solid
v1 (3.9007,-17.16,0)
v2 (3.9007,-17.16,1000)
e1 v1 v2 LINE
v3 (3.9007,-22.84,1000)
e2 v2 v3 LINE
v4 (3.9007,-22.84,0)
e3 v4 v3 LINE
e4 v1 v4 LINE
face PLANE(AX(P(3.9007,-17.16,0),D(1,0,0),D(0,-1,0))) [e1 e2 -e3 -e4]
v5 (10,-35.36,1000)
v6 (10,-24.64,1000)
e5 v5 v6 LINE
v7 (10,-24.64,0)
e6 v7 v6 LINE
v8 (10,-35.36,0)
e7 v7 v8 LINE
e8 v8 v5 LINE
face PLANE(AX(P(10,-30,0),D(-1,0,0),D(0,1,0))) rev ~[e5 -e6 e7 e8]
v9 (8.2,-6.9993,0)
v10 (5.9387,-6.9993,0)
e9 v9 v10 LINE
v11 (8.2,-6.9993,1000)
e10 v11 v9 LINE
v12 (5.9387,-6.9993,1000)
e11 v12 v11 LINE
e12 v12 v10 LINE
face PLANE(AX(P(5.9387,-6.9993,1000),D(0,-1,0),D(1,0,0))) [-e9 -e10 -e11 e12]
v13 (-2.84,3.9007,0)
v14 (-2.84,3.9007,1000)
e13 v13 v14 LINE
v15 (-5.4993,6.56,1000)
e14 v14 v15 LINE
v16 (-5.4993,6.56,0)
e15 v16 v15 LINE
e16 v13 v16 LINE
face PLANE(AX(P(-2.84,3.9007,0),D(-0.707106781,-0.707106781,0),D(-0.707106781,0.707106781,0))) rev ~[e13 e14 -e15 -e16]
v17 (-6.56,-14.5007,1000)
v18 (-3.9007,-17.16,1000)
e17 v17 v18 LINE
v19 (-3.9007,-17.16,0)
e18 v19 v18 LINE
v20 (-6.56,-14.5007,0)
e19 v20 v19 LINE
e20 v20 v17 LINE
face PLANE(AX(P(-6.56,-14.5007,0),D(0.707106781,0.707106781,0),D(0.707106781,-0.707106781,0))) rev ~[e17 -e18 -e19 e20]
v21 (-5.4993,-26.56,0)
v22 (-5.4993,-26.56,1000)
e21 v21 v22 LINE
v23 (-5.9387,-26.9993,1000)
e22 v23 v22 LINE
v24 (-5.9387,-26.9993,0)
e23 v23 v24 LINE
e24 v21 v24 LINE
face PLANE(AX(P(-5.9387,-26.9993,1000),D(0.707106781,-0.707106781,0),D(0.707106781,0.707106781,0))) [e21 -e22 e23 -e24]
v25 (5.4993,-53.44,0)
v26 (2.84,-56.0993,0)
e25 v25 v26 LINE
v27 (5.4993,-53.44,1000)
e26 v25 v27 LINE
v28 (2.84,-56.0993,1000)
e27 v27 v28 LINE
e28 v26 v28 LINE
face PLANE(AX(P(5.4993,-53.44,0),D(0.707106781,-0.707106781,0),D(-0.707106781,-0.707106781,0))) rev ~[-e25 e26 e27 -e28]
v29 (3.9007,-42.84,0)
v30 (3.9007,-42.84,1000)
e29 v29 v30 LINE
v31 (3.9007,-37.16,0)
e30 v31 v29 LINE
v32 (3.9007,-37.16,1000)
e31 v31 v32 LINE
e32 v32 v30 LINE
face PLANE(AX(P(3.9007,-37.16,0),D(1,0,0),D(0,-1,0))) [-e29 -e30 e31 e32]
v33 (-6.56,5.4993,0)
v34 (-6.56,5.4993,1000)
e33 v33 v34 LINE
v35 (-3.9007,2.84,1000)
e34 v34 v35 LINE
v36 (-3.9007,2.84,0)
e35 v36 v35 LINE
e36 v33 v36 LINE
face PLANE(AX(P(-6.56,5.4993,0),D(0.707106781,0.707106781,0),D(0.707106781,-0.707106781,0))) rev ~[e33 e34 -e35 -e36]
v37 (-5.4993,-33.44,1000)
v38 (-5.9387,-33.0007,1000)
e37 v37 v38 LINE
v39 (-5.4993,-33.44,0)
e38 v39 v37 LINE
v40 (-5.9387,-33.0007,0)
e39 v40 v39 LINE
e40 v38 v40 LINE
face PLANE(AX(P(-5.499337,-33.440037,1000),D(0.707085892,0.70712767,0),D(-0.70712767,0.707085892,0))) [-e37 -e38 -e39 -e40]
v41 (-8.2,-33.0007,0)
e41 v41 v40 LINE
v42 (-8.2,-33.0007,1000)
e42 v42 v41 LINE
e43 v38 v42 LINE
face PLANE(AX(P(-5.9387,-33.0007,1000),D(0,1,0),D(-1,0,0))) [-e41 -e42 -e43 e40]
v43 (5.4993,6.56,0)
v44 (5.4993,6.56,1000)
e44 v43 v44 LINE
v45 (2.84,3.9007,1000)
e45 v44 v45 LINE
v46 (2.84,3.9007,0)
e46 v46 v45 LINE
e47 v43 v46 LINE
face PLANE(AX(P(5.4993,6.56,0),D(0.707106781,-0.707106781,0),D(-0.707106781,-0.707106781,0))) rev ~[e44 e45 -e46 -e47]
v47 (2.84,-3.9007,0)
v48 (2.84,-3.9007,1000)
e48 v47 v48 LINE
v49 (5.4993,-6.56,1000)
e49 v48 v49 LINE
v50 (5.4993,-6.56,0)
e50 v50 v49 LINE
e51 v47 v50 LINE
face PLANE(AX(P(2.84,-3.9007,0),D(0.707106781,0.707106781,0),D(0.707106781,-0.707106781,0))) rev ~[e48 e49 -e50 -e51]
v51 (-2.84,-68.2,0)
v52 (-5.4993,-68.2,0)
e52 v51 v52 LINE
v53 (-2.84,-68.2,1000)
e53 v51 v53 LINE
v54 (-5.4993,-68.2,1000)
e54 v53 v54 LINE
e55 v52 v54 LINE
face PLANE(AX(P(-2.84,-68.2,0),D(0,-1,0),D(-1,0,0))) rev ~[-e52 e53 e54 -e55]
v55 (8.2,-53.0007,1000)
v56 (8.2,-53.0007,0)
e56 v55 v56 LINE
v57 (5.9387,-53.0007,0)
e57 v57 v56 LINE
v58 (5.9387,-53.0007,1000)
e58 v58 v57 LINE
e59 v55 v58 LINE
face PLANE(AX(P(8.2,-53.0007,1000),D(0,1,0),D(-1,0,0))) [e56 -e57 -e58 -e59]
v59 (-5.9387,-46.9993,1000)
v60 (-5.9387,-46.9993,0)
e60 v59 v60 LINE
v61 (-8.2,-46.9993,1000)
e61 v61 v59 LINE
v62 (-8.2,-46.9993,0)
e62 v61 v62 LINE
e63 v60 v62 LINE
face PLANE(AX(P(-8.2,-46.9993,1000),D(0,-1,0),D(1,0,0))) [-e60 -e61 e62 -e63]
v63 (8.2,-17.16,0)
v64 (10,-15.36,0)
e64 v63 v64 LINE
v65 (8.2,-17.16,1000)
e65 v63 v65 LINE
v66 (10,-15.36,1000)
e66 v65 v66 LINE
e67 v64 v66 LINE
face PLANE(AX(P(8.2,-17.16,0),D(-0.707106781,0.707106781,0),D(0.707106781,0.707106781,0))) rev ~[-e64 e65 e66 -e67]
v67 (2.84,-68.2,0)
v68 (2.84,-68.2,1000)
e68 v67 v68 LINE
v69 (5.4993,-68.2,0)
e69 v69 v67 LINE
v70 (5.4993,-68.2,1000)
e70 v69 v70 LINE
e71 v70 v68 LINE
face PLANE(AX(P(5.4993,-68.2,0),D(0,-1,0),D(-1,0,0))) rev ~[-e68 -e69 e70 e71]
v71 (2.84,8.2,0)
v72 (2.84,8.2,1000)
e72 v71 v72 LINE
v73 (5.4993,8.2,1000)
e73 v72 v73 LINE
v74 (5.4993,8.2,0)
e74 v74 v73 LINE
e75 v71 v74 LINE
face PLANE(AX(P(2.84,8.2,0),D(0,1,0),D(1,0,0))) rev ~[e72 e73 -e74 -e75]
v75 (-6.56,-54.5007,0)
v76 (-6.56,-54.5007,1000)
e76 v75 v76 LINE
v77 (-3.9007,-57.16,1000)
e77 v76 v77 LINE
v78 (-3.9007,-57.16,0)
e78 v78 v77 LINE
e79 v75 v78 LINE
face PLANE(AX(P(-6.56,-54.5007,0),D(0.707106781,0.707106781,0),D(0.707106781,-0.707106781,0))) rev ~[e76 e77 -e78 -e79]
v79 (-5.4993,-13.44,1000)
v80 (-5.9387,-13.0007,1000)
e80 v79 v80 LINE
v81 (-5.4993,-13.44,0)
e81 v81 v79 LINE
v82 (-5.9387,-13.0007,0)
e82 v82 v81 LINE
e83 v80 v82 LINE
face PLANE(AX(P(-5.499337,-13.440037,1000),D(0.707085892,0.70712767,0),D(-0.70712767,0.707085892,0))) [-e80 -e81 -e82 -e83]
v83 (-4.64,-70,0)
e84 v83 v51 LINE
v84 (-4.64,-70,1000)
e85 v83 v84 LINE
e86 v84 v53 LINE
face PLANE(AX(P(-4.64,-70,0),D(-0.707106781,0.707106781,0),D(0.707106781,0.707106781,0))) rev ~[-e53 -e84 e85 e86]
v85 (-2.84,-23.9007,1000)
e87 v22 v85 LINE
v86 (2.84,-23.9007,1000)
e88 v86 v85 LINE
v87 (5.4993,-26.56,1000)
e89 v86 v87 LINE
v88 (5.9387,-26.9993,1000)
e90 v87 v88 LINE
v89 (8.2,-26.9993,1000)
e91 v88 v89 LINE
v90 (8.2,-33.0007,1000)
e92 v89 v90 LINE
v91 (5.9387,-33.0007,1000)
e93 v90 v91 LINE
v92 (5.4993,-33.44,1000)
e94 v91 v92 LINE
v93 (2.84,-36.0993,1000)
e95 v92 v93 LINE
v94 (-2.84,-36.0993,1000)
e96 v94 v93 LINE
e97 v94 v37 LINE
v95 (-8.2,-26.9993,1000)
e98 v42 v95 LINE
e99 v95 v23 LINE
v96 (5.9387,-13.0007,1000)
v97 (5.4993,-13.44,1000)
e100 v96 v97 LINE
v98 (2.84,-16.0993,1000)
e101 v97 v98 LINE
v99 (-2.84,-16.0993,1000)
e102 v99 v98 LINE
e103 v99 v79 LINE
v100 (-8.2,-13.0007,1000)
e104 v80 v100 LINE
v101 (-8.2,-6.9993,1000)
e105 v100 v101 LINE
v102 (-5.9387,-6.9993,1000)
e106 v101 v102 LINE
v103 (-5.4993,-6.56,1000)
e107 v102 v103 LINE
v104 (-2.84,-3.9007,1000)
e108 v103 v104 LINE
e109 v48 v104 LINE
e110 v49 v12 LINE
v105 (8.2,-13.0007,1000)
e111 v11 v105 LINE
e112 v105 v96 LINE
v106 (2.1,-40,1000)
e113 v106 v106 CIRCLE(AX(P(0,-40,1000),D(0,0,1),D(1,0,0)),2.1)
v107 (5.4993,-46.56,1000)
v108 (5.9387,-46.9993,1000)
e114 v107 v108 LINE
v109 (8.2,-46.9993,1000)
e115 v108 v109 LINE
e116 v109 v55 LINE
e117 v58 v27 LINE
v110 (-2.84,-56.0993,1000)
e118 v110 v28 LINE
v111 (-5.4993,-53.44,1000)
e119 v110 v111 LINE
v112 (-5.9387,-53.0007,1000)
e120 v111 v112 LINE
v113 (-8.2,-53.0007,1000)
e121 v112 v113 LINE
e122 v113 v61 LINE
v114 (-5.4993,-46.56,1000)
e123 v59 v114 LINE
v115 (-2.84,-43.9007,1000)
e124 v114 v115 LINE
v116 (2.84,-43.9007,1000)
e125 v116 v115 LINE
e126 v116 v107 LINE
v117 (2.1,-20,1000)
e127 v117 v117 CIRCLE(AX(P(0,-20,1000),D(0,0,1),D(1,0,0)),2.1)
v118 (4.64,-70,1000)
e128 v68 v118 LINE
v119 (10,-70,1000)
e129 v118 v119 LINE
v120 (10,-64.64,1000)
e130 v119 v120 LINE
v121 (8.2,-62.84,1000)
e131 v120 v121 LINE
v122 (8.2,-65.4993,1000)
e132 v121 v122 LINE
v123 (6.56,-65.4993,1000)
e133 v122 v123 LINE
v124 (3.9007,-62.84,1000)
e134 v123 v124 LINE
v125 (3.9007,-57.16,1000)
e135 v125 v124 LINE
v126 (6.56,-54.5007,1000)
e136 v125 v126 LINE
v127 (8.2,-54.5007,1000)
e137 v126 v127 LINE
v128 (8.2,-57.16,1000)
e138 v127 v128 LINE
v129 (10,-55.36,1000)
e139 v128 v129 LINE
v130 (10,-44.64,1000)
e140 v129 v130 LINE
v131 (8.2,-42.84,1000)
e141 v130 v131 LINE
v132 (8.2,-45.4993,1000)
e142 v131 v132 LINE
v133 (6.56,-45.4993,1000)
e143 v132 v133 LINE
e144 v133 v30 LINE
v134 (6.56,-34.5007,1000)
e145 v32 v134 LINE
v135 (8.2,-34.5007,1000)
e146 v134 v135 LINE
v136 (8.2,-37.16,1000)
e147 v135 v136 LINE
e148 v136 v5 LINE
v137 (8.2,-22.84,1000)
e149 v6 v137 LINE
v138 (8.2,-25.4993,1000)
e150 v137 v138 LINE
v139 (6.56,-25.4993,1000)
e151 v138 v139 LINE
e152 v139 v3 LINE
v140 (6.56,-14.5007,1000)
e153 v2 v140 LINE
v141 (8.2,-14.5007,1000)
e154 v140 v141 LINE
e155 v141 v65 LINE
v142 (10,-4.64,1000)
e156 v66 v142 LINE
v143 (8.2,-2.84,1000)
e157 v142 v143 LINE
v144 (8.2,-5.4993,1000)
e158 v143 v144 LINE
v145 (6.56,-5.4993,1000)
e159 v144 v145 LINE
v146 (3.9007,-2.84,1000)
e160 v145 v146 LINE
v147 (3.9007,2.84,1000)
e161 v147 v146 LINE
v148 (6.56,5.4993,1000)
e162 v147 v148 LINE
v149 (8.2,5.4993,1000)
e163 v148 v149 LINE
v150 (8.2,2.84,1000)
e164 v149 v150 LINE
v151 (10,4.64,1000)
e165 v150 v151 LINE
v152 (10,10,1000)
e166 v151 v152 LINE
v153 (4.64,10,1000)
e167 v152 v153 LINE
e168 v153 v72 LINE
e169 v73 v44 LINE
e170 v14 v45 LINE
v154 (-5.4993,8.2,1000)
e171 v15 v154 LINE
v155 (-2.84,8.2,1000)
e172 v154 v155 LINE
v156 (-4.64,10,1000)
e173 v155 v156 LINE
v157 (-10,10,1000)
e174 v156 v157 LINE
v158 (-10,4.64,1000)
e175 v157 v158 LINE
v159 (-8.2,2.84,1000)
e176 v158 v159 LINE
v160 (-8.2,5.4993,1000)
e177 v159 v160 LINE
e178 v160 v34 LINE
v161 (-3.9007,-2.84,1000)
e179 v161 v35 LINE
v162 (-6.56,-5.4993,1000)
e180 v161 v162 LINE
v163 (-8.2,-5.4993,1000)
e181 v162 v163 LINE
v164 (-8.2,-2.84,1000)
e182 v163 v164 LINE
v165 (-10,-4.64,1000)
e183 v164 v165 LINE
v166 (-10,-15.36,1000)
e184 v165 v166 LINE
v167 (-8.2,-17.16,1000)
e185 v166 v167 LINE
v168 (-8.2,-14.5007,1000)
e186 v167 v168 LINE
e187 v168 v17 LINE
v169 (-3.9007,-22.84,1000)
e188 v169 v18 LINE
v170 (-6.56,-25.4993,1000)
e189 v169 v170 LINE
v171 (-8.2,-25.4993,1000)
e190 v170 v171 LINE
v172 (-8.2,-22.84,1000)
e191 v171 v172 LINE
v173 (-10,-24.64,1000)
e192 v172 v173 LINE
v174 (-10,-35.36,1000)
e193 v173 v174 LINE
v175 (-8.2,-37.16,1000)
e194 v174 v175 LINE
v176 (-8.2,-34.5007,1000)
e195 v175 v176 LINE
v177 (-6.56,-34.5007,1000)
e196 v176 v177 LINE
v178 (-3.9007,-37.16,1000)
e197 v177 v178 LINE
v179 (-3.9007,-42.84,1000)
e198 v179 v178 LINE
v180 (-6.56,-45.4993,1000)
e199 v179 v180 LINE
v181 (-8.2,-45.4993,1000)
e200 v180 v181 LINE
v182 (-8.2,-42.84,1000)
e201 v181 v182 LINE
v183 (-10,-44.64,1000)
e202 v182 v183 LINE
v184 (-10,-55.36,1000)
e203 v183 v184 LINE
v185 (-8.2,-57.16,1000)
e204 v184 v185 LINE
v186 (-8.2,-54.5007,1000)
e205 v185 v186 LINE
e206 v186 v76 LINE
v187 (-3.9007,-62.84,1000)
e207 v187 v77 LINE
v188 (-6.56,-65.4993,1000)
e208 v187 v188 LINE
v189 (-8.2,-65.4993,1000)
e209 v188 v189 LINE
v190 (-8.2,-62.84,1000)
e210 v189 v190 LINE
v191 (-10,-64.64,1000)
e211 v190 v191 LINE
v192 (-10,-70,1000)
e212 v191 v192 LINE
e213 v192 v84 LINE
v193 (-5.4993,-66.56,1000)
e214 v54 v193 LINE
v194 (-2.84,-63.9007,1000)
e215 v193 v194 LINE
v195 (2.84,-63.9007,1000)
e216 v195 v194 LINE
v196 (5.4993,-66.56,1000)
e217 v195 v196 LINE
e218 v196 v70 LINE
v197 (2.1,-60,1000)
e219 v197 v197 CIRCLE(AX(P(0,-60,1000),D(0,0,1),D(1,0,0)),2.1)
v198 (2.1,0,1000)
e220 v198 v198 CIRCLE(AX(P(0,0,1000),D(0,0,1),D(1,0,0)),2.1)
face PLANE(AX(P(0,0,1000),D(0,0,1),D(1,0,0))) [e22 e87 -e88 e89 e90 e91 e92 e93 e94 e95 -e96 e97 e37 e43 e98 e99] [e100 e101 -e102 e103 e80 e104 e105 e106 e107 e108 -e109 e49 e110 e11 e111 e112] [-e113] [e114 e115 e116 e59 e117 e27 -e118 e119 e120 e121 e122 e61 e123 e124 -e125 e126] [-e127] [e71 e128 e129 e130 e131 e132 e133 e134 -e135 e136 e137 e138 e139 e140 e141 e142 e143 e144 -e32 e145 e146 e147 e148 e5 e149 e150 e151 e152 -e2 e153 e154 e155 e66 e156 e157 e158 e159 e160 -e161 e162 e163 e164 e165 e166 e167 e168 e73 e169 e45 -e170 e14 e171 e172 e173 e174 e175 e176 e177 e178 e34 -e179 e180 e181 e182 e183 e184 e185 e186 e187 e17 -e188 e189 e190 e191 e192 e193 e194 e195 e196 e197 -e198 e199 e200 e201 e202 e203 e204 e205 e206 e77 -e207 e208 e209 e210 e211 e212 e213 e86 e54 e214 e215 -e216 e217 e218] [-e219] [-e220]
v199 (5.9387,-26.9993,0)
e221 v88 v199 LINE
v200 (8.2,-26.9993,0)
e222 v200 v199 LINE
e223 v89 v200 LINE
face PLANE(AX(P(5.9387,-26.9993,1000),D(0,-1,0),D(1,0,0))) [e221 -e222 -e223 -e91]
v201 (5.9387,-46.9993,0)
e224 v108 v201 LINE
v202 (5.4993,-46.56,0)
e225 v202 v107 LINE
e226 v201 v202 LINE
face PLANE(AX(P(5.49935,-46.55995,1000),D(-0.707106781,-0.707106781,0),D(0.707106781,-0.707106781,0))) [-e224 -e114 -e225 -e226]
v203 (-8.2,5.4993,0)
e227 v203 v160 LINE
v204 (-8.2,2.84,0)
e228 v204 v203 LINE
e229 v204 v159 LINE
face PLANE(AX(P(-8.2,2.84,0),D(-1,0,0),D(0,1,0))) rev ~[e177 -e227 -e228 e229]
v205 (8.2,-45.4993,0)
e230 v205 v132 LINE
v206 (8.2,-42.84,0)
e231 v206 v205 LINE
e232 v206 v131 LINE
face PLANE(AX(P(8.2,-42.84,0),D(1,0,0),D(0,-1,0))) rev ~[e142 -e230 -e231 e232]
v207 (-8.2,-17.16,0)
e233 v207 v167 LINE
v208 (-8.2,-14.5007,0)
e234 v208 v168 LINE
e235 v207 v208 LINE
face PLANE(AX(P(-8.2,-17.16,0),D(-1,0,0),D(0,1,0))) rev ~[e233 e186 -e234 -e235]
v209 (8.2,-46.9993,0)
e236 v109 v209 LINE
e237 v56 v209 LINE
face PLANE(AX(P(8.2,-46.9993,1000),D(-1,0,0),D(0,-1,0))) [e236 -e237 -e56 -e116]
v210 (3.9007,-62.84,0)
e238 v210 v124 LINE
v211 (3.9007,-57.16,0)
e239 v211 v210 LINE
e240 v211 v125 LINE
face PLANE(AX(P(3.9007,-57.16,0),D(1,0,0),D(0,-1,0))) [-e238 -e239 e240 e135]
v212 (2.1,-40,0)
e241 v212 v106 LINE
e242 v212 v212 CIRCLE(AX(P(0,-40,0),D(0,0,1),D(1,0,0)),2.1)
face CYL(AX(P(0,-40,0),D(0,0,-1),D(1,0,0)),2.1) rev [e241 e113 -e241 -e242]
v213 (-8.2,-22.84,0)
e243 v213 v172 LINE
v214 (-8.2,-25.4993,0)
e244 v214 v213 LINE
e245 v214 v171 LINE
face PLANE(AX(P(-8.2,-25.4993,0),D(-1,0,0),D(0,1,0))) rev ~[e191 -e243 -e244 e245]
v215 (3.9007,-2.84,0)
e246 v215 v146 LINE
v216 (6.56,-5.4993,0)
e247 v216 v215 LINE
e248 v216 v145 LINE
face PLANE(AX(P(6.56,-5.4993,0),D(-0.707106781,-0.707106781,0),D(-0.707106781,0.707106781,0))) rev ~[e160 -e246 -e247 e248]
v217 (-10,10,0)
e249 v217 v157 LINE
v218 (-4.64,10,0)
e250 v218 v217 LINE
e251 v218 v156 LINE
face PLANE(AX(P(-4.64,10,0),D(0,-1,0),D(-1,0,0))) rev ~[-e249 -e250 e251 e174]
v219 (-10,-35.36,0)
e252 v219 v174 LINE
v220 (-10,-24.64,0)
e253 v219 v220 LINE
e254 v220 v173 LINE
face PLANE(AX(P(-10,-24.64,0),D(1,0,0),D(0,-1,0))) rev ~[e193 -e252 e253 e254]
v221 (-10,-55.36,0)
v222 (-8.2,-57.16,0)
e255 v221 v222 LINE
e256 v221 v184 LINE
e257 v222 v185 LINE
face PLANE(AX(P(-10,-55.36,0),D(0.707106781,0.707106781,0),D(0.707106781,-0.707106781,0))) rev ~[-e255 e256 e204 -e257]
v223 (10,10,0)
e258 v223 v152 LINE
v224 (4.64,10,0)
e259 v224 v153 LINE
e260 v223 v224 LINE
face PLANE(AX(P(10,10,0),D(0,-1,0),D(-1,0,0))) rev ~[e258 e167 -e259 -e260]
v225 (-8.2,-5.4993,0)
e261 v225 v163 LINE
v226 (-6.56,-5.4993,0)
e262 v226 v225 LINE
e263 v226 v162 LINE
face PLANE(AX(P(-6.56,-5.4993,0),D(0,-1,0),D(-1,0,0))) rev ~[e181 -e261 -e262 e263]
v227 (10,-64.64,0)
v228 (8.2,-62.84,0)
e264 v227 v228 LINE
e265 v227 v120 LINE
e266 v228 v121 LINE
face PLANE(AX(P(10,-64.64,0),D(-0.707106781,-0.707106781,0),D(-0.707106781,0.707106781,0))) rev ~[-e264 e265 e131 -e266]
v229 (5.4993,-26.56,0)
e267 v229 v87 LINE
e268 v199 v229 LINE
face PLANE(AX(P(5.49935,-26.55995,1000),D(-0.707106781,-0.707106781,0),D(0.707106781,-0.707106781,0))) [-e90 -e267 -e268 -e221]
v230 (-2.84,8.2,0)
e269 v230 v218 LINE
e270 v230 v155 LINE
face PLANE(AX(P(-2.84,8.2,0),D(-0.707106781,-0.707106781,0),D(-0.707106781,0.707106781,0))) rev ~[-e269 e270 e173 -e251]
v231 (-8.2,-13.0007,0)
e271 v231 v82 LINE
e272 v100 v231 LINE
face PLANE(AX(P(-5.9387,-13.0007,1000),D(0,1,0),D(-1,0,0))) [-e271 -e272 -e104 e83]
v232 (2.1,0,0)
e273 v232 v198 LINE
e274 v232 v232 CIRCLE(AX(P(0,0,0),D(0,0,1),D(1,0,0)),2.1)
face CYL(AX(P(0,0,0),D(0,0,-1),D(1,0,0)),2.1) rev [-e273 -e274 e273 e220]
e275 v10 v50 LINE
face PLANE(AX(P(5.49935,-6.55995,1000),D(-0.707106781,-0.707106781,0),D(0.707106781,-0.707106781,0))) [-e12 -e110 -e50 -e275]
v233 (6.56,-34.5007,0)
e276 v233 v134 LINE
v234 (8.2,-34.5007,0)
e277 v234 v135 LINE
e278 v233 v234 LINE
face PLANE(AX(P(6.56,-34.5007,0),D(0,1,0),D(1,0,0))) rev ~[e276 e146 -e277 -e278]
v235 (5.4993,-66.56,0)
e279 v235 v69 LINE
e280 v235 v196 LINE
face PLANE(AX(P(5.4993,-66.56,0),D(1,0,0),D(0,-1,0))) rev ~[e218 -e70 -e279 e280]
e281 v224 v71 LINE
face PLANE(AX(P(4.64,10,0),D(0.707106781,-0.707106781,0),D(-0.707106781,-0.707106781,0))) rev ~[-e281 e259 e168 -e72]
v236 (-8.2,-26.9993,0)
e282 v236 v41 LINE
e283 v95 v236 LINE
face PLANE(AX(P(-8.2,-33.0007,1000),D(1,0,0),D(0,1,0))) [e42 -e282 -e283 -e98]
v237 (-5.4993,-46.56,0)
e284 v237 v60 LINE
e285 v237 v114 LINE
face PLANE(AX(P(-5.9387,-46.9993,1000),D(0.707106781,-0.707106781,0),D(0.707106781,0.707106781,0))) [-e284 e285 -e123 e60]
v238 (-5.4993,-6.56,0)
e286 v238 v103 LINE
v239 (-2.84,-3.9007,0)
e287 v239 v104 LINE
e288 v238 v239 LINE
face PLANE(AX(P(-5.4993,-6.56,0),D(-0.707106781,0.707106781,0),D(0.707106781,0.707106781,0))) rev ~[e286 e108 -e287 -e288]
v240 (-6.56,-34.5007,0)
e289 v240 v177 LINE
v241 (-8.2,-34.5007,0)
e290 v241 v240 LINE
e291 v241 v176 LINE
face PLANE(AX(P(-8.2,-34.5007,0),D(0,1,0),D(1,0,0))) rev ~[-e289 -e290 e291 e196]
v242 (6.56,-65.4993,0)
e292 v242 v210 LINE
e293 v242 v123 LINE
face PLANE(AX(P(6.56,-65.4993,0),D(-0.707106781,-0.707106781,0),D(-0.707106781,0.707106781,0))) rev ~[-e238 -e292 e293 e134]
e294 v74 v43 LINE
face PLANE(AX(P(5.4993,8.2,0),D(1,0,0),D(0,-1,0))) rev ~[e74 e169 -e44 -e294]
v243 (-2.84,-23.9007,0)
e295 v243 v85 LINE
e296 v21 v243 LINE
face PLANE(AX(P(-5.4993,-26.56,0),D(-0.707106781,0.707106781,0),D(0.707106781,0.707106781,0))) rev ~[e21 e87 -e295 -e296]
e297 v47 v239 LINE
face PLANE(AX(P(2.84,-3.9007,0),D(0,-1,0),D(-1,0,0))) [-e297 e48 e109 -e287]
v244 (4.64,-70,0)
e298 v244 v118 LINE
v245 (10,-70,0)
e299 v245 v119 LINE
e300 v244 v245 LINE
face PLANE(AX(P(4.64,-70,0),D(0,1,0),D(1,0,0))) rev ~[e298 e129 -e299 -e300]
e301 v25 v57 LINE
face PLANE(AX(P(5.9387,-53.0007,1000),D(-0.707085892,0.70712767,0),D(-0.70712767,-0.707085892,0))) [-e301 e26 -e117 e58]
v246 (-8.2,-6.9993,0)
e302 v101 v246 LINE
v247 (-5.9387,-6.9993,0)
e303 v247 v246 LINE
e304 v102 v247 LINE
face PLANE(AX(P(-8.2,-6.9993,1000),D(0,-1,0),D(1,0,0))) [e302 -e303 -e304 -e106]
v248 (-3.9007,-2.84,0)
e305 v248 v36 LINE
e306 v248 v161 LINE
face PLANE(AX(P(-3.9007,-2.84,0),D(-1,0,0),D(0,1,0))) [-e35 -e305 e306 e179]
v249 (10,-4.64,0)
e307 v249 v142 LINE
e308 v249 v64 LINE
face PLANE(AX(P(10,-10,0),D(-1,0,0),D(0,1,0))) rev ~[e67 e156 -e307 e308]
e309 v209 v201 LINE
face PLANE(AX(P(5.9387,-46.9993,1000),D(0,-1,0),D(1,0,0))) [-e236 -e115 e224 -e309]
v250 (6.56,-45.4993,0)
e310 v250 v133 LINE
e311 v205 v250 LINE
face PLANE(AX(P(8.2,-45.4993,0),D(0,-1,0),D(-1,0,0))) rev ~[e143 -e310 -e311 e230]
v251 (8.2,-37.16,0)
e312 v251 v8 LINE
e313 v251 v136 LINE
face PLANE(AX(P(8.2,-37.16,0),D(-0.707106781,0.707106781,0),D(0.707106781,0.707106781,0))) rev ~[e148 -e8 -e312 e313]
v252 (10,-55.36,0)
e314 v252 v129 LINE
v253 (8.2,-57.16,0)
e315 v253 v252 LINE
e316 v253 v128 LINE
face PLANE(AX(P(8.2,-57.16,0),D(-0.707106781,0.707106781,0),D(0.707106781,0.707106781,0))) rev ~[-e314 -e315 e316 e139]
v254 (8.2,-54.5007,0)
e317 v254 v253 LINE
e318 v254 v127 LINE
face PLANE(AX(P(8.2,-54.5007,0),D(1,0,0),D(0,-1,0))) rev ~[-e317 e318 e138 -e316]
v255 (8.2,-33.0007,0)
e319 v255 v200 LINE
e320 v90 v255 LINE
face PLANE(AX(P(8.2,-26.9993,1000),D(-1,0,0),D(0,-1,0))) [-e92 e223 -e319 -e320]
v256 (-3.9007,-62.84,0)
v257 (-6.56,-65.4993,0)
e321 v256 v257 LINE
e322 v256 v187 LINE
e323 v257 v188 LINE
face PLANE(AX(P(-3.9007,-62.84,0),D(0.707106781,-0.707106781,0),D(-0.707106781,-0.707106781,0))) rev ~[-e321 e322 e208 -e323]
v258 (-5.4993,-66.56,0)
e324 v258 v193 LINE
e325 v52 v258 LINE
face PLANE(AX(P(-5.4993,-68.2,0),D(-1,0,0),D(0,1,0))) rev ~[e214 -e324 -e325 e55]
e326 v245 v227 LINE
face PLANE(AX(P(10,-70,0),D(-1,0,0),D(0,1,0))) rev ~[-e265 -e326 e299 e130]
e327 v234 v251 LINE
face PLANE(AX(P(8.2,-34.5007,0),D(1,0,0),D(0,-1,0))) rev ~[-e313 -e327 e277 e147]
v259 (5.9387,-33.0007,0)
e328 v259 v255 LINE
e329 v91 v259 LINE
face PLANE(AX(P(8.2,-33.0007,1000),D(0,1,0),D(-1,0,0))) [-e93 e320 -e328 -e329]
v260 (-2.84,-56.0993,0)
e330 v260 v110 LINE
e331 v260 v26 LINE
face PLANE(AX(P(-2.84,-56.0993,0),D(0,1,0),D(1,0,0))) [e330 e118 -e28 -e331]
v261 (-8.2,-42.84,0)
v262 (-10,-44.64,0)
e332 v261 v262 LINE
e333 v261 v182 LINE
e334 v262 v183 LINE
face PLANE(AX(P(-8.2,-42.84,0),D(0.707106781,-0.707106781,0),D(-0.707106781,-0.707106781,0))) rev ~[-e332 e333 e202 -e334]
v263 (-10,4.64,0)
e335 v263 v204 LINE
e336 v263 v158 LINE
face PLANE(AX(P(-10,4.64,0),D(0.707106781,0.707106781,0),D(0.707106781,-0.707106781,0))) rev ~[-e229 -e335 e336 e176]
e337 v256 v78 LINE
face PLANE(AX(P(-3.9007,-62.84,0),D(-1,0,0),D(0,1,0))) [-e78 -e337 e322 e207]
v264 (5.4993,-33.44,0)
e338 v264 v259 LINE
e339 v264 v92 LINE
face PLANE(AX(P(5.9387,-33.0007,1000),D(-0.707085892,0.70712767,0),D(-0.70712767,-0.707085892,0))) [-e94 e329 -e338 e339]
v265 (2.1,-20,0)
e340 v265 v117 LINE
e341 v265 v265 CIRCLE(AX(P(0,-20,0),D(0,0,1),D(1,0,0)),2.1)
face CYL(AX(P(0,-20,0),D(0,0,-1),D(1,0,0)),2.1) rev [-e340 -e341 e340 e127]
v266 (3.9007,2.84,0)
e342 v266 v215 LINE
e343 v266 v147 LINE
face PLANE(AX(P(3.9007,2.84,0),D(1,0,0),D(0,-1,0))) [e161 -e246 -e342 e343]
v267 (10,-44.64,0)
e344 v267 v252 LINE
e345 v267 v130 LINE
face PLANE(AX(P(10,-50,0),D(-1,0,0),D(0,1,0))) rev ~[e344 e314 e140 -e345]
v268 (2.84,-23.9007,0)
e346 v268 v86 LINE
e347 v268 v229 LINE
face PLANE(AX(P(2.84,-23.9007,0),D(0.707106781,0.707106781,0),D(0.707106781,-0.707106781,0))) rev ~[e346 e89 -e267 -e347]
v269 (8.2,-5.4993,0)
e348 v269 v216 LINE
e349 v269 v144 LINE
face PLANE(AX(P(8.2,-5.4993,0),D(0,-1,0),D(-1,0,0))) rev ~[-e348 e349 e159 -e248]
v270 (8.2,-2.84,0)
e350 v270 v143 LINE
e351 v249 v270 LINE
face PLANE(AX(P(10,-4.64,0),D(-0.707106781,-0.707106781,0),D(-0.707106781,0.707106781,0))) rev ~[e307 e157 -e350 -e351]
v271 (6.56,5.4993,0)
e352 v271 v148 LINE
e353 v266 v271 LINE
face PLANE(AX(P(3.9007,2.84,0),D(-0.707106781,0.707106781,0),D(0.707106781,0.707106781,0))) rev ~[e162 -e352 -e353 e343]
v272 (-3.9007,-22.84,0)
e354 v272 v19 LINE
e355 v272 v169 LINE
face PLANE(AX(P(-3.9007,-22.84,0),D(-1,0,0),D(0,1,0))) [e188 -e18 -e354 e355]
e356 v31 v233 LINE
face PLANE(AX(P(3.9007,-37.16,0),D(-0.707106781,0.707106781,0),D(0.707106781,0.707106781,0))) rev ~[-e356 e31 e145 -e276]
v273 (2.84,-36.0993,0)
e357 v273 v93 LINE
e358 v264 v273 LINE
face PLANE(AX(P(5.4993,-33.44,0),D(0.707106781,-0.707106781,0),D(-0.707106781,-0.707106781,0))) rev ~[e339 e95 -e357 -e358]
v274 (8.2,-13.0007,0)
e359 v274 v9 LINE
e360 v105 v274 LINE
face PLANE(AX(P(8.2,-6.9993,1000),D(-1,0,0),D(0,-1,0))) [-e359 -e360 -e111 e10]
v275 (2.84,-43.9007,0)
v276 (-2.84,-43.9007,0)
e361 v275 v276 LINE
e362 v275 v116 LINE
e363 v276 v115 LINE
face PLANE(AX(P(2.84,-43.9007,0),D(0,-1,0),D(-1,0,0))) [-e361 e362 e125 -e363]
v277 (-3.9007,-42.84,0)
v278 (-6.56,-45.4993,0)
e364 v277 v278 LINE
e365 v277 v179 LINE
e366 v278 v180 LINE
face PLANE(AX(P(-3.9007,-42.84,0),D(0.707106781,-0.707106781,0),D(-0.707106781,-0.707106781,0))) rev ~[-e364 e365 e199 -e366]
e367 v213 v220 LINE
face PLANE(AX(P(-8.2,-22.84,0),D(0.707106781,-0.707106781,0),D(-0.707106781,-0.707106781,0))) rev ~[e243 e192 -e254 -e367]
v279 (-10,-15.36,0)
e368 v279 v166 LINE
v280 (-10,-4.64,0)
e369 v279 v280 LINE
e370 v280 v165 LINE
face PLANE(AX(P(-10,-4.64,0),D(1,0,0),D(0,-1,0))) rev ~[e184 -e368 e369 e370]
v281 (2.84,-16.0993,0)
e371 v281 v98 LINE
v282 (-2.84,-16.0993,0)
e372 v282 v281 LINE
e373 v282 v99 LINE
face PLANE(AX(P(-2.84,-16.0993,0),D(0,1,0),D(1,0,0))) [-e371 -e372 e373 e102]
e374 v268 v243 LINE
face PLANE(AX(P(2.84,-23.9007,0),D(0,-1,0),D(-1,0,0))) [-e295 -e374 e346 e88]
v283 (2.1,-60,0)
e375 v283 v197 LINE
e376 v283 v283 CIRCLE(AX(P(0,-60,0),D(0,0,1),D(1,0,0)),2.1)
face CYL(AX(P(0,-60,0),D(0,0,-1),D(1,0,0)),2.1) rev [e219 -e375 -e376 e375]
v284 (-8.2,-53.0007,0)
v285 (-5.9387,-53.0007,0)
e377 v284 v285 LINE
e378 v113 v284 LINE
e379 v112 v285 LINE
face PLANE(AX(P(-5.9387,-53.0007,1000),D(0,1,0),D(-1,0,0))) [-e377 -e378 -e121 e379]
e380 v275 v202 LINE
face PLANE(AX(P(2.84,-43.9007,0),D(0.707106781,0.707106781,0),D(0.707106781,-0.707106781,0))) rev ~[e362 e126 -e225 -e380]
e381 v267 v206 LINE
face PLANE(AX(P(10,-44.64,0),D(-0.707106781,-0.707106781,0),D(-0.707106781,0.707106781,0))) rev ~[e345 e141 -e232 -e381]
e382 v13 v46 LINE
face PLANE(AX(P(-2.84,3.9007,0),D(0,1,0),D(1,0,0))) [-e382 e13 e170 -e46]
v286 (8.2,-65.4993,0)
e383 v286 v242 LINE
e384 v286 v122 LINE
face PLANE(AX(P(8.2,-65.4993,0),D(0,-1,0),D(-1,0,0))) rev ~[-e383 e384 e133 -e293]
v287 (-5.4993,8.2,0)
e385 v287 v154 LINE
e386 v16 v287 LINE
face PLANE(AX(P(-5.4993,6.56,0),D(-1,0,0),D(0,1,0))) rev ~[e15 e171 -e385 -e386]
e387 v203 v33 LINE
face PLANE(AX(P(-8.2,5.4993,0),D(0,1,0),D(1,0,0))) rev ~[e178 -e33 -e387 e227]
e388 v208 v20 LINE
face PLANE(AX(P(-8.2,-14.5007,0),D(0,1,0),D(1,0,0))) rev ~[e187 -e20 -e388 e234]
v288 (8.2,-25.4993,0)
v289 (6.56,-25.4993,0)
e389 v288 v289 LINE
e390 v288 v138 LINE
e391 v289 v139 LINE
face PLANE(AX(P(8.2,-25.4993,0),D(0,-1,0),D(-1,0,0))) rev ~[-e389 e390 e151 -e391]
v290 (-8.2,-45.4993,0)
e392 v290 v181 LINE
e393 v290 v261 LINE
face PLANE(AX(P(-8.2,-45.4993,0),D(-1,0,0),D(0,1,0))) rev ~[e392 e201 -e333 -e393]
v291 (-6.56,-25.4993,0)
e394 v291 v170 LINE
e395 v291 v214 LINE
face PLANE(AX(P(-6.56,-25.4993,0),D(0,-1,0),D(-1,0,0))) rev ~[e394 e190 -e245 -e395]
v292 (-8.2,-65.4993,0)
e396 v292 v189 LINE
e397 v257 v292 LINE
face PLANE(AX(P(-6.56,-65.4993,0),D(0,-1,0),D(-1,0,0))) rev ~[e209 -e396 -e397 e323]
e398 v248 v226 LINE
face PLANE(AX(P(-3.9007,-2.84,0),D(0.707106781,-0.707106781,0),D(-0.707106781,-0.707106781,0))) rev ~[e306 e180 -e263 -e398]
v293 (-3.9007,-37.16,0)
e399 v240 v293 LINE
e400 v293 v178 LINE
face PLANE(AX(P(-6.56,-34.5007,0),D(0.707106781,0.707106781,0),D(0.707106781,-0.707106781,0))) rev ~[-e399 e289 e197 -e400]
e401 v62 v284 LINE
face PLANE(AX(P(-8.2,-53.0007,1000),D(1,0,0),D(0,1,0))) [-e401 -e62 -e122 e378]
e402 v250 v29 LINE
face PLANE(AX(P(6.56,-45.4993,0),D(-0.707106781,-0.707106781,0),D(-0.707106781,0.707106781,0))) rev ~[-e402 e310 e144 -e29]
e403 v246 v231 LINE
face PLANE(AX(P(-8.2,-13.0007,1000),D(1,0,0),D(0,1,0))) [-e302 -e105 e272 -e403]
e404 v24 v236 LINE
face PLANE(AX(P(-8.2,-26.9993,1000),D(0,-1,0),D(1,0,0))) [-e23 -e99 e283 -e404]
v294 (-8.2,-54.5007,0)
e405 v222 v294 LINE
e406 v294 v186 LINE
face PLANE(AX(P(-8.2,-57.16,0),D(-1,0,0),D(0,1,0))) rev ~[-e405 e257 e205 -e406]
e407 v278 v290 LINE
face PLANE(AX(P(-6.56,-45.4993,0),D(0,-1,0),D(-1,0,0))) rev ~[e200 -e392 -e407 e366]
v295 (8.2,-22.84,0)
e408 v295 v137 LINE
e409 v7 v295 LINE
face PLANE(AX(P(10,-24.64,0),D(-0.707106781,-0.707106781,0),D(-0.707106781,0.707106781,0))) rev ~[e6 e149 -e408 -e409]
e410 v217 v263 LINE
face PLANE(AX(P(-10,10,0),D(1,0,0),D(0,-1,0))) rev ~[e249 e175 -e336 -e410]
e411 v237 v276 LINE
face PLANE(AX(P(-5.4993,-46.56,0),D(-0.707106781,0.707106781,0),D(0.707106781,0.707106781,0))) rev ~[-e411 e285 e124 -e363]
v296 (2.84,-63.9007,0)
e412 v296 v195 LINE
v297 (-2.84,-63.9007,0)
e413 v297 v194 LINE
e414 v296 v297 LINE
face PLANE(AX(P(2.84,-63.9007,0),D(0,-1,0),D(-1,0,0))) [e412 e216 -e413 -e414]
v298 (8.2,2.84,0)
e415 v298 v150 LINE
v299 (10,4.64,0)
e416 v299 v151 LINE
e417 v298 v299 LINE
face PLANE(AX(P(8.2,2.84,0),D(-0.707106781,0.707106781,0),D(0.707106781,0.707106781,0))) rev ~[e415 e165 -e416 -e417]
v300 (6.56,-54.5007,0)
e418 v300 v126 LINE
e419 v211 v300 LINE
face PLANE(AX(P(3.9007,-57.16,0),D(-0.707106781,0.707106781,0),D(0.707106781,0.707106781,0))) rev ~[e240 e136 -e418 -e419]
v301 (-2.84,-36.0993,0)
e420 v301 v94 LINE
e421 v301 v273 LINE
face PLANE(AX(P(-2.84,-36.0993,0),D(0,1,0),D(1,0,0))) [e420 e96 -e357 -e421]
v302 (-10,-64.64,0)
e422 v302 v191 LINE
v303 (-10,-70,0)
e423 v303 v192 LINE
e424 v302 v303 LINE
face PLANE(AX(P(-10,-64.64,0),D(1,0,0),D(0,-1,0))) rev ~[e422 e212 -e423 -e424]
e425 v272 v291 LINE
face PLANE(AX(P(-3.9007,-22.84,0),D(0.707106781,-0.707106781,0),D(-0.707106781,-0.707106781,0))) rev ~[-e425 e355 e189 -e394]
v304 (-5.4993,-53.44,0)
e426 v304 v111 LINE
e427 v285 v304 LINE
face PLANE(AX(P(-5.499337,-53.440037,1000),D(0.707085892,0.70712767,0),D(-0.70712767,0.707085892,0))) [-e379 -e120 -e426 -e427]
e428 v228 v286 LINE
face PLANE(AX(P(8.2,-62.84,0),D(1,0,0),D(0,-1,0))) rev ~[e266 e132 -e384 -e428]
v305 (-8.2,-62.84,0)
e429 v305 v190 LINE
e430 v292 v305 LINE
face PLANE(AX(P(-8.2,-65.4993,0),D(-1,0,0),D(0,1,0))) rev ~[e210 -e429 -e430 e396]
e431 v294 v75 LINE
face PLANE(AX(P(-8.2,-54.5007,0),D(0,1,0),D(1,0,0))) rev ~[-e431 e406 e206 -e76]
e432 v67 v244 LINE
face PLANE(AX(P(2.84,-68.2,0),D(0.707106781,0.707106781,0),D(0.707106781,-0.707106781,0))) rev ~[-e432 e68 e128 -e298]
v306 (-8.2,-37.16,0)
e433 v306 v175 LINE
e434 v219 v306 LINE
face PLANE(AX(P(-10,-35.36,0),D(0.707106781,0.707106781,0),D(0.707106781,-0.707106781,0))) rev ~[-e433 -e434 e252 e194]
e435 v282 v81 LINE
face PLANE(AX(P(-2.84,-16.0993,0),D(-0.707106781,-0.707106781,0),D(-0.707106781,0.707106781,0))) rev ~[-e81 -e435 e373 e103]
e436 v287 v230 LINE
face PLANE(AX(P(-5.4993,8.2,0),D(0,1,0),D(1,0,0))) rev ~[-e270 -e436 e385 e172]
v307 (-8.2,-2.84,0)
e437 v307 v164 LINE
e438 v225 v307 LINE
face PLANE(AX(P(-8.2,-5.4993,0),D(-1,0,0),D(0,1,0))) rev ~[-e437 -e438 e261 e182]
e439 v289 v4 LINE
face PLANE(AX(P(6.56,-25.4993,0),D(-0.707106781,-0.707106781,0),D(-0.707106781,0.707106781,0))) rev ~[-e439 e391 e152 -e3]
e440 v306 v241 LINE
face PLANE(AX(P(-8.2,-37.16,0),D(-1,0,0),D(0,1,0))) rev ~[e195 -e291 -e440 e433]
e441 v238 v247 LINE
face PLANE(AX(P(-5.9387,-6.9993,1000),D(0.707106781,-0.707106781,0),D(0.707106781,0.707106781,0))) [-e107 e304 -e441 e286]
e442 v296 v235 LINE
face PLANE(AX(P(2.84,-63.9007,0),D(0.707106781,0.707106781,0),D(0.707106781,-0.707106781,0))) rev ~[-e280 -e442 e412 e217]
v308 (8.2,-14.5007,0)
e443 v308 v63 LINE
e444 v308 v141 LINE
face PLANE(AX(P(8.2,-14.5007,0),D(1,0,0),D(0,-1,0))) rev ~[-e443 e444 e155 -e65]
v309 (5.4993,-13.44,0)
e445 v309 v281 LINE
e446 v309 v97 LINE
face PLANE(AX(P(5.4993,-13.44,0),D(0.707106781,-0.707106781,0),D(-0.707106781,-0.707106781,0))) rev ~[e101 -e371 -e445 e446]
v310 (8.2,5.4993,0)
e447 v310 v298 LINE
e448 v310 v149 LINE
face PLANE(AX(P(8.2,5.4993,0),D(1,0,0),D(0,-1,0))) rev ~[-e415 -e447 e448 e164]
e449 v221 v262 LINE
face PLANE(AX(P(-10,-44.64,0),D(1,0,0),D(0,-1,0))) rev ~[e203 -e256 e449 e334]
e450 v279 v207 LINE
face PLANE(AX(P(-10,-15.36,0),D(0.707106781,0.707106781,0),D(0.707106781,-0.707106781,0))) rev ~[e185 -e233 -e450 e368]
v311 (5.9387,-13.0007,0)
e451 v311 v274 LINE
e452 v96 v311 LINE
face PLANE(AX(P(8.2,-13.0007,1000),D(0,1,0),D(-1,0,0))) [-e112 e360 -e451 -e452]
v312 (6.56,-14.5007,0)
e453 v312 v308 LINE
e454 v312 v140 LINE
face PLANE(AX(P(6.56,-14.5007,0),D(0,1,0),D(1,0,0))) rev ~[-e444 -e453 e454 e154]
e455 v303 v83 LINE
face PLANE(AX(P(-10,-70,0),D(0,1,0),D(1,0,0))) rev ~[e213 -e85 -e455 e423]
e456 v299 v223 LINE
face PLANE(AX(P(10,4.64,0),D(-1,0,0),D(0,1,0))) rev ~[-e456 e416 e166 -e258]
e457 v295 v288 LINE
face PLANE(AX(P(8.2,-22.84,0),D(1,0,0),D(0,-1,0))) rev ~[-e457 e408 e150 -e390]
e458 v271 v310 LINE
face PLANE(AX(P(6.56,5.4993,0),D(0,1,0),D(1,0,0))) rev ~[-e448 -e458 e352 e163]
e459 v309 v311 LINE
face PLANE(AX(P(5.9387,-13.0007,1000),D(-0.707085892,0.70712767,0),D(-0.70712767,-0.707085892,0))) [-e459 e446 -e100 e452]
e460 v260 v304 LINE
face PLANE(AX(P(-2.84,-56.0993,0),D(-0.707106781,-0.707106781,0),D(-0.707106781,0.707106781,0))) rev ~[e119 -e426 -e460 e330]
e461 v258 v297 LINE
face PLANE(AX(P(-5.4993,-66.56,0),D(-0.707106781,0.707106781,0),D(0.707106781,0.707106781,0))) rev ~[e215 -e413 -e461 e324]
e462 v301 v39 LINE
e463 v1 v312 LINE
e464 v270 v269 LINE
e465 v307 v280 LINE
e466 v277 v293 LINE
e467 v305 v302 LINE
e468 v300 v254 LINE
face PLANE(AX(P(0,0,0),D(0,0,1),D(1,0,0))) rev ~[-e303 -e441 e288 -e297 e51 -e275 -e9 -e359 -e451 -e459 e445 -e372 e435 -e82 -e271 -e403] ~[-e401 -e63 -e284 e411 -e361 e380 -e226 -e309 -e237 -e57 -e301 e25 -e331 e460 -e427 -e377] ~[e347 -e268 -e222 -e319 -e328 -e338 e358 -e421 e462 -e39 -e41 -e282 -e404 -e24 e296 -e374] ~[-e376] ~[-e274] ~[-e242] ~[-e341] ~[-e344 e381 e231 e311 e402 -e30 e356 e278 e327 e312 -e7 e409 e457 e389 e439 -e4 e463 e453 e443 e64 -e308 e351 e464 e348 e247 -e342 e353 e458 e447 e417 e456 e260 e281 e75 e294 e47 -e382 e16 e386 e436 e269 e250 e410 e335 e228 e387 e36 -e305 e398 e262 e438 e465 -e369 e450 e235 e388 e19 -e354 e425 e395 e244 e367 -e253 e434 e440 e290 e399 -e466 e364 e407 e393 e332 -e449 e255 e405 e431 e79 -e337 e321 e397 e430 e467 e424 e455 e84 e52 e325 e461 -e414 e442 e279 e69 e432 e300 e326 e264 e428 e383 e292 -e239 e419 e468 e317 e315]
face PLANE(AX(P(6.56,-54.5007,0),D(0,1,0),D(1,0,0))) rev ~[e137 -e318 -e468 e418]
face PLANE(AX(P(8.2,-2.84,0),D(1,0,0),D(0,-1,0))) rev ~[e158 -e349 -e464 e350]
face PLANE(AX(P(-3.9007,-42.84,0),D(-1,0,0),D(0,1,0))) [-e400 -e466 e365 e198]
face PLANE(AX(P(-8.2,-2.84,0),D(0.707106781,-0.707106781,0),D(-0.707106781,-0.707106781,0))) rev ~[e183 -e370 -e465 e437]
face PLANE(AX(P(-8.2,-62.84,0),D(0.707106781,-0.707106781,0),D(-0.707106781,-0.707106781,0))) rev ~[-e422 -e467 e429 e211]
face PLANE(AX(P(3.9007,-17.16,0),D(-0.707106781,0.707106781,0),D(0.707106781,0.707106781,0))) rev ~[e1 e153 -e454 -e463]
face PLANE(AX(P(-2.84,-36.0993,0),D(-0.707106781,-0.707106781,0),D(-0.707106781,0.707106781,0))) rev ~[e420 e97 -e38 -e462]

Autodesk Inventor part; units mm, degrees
ref_plane "YZ Plane" through (0, 0, 0) normal (1, 0, 0) x (0, 1, 0)
ref_plane "XZ Plane" through (0, 0, 0) normal (0, 1, 0) x (-1, 0, 0)
ref_plane "XY Plane" through (0, 0, 0) normal (0, 0, 1) x (1, 0, 0)
sketch "Sketch1" plane through (0, 0, 0) normal (0, 0, 1) x (1, 0, 0)
  line L0 (-3.9007, 3.9007) -> (3.9007, 3.9007)
  line L1 (3.9007, 3.9007) -> (3.9007, -3.9007)
  line L2 (3.9007, -3.9007) -> (-3.9007, -3.9007)
  line L3 (-3.9007, -3.9007) -> (-3.9007, 3.9007)
  line L4 (0, 3.9007) -> (0, -3.9007) construction
  line L5 (-3.9007, 0) -> (3.9007, 0) construction
  circle A0 centre (0, 0) radius 2.1
  line L6 (0, 0) -> (-16.1173, 16.1173) construction
  line L7 (0, 0) -> (22.7933, 0) construction
  line L8 (-2.84, 3.9007) -> (-5.4993, 6.56)
  line L9 (-5.4993, 6.56) -> (-5.4993, 8.2)
  line L10 (-5.4993, 8.2) -> (-2.84, 8.2)
  line L11 (-2.84, 8.2) -> (-4.64, 10)
  line L12 (-4.64, 10) -> (-10, 10)
  line L13 (-10, 10) -> (-10, 4.64)
  line L14 (-10, 4.64) -> (-8.2, 2.84)
  line L15 (-8.2, 2.84) -> (-8.2, 5.4993)
  line L16 (-8.2, 5.4993) -> (-6.56, 5.4993)
  line L17 (-6.56, 5.4993) -> (-3.9007, 2.84)
  line L18 (-3.9007, 2.84) -> (-11.3102, 2.84) construction
  line L19 (-2.84, 3.9007) -> (-3.9007, 3.9007)
  line L20 (-3.9007, 2.84) -> (-3.9007, 3.9007)
  line L21 (-3.9007, -2.84) -> (-6.56, -5.4993)
  line L22 (-6.56, -5.4993) -> (-8.2, -5.4993)
  line L23 (-8.2, -5.4993) -> (-8.2, -2.84)
  line L24 (-8.2, -2.84) -> (-10, -4.64)
  line L25 (-10, -4.64) -> (-10, -10)
  line L26 (-10, -10) -> (-4.64, -10)
  line L27 (-4.64, -10) -> (-2.84, -8.2)
  line L28 (-2.84, -8.2) -> (-5.4993, -8.2)
  line L29 (-5.4993, -8.2) -> (-5.4993, -6.56)
  line L30 (-5.4993, -6.56) -> (-2.84, -3.9007)
  line L31 (-3.9007, -2.84) -> (-3.9007, -3.9007)
  line L32 (-2.84, -3.9007) -> (-3.9007, -3.9007)
  line L33 (2.84, -3.9007) -> (5.4993, -6.56)
  line L34 (5.4993, -6.56) -> (5.4993, -8.2)
  line L35 (5.4993, -8.2) -> (2.84, -8.2)
  line L36 (2.84, -8.2) -> (4.64, -10)
  line L37 (4.64, -10) -> (10, -10)
  line L38 (10, -10) -> (10, -4.64)
  line L39 (10, -4.64) -> (8.2, -2.84)
  line L40 (8.2, -2.84) -> (8.2, -5.4993)
  line L41 (8.2, -5.4993) -> (6.56, -5.4993)
  line L42 (6.56, -5.4993) -> (3.9007, -2.84)
  line L43 (2.84, -3.9007) -> (3.9007, -3.9007)
  line L44 (3.9007, -2.84) -> (3.9007, -3.9007)
  line L45 (3.9007, 2.84) -> (6.56, 5.4993)
  line L46 (6.56, 5.4993) -> (8.2, 5.4993)
  line L47 (8.2, 5.4993) -> (8.2, 2.84)
  line L48 (8.2, 2.84) -> (10, 4.64)
  line L49 (10, 4.64) -> (10, 10)
  line L50 (10, 10) -> (4.64, 10)
  line L51 (4.64, 10) -> (2.84, 8.2)
  line L52 (2.84, 8.2) -> (5.4993, 8.2)
  line L53 (5.4993, 8.2) -> (5.4993, 6.56)
  line L54 (5.4993, 6.56) -> (2.84, 3.9007)
  line L55 (3.9007, 2.84) -> (3.9007, 3.9007)
  line L56 (2.84, 3.9007) -> (3.9007, 3.9007)
  dimension "d7" = 4.2
  dimension "d8" = 135
  dimension "d9" = 1.5
  dimension "d10" = 1.64
  dimension "d11" = 1.8
  dimension "d12" = 2.84
  dimension "d13" = 10
  dimension "d16" = 360
extrude "Extrusion1" add sketch "Sketch1" along normal blind 1000
pattern_linear "Rectangular Pattern1" count 4 spacing 20 along (0, -1, 0) of "Extrusion1"
sketch "Sketch2" plane through (0, 0, 1000) normal (0, 0, 1) x (1, 0, 0)
  line L0 (8.2, -2.84) -> (8.2, -5.4993) projected
  line L1 (8.2, -5.4993) -> (6.56, -5.4993) projected
  line L2 (-6.56, -5.4993) -> (-8.2, -5.4993) projected
  line L3 (-8.2, -5.4993) -> (-8.2, -2.84) projected
  line L4 (-8.2, -14.5007) -> (-6.56, -14.5007) projected
  line L5 (6.56, -14.5007) -> (8.2, -14.5007) projected
  line L6 (5.4993, -11.8) -> (5.4993, -13.44) projected
  line L7 (5.4993, -13.44) -> (2.84, -16.0993) projected
  line L8 (-2.84, -16.0993) -> (-5.4993, -13.44) projected
  line L9 (-5.4993, -8.2) -> (-5.4993, -6.56) projected
  line L10 (-5.4993, -6.56) -> (-2.84, -3.9007) projected
  line L11 (2.84, -3.9007) -> (5.4993, -6.56) projected
  line L12 (2.84, -8.2) -> (4.64, -10) projected
  line L13 (-8.2, -6.9993) -> (-5.9387, -6.9993)
  line L14 (-5.9387, -6.9993) -> (-4.1231, -5.1837)
  line L15 (-4.1231, -5.1837) -> (4.1231, -5.1837)
  line L16 (4.1231, -5.1837) -> (5.9387, -6.9993)
  line L17 (5.9387, -6.9993) -> (8.2, -6.9993)
  line L18 (8.2, -6.9993) -> (8.2, -13.0007)
  line L19 (8.2, -13.0007) -> (5.9387, -13.0007)
  line L20 (5.9387, -13.0007) -> (4.2461, -14.6932)
  line L21 (4.2461, -14.6932) -> (-4.2461, -14.6932)
  line L22 (-4.2461, -14.6932) -> (-5.9387, -13.0007)
  line L23 (-5.9387, -13.0007) -> (-8.2, -13.0007)
  line L24 (-8.2, -13.0007) -> (-8.2, -6.9993)
  dimension "d23" = 1.5
  dimension "d24" = 1.5
  dimension "d25" = 1.5
  dimension "d26" = 1.5
extrude "Extrusion2" cut sketch "Sketch2" against normal up to next
pattern_linear "Rectangular Pattern2" count 3 spacing 20 along (0, -1, 0) of "Extrusion2"
equation "\"d24\" = d23"
equation "\"d25\" = d23"
equation "\"d26\" = d23"
properties part number "20x80x1000mm"
